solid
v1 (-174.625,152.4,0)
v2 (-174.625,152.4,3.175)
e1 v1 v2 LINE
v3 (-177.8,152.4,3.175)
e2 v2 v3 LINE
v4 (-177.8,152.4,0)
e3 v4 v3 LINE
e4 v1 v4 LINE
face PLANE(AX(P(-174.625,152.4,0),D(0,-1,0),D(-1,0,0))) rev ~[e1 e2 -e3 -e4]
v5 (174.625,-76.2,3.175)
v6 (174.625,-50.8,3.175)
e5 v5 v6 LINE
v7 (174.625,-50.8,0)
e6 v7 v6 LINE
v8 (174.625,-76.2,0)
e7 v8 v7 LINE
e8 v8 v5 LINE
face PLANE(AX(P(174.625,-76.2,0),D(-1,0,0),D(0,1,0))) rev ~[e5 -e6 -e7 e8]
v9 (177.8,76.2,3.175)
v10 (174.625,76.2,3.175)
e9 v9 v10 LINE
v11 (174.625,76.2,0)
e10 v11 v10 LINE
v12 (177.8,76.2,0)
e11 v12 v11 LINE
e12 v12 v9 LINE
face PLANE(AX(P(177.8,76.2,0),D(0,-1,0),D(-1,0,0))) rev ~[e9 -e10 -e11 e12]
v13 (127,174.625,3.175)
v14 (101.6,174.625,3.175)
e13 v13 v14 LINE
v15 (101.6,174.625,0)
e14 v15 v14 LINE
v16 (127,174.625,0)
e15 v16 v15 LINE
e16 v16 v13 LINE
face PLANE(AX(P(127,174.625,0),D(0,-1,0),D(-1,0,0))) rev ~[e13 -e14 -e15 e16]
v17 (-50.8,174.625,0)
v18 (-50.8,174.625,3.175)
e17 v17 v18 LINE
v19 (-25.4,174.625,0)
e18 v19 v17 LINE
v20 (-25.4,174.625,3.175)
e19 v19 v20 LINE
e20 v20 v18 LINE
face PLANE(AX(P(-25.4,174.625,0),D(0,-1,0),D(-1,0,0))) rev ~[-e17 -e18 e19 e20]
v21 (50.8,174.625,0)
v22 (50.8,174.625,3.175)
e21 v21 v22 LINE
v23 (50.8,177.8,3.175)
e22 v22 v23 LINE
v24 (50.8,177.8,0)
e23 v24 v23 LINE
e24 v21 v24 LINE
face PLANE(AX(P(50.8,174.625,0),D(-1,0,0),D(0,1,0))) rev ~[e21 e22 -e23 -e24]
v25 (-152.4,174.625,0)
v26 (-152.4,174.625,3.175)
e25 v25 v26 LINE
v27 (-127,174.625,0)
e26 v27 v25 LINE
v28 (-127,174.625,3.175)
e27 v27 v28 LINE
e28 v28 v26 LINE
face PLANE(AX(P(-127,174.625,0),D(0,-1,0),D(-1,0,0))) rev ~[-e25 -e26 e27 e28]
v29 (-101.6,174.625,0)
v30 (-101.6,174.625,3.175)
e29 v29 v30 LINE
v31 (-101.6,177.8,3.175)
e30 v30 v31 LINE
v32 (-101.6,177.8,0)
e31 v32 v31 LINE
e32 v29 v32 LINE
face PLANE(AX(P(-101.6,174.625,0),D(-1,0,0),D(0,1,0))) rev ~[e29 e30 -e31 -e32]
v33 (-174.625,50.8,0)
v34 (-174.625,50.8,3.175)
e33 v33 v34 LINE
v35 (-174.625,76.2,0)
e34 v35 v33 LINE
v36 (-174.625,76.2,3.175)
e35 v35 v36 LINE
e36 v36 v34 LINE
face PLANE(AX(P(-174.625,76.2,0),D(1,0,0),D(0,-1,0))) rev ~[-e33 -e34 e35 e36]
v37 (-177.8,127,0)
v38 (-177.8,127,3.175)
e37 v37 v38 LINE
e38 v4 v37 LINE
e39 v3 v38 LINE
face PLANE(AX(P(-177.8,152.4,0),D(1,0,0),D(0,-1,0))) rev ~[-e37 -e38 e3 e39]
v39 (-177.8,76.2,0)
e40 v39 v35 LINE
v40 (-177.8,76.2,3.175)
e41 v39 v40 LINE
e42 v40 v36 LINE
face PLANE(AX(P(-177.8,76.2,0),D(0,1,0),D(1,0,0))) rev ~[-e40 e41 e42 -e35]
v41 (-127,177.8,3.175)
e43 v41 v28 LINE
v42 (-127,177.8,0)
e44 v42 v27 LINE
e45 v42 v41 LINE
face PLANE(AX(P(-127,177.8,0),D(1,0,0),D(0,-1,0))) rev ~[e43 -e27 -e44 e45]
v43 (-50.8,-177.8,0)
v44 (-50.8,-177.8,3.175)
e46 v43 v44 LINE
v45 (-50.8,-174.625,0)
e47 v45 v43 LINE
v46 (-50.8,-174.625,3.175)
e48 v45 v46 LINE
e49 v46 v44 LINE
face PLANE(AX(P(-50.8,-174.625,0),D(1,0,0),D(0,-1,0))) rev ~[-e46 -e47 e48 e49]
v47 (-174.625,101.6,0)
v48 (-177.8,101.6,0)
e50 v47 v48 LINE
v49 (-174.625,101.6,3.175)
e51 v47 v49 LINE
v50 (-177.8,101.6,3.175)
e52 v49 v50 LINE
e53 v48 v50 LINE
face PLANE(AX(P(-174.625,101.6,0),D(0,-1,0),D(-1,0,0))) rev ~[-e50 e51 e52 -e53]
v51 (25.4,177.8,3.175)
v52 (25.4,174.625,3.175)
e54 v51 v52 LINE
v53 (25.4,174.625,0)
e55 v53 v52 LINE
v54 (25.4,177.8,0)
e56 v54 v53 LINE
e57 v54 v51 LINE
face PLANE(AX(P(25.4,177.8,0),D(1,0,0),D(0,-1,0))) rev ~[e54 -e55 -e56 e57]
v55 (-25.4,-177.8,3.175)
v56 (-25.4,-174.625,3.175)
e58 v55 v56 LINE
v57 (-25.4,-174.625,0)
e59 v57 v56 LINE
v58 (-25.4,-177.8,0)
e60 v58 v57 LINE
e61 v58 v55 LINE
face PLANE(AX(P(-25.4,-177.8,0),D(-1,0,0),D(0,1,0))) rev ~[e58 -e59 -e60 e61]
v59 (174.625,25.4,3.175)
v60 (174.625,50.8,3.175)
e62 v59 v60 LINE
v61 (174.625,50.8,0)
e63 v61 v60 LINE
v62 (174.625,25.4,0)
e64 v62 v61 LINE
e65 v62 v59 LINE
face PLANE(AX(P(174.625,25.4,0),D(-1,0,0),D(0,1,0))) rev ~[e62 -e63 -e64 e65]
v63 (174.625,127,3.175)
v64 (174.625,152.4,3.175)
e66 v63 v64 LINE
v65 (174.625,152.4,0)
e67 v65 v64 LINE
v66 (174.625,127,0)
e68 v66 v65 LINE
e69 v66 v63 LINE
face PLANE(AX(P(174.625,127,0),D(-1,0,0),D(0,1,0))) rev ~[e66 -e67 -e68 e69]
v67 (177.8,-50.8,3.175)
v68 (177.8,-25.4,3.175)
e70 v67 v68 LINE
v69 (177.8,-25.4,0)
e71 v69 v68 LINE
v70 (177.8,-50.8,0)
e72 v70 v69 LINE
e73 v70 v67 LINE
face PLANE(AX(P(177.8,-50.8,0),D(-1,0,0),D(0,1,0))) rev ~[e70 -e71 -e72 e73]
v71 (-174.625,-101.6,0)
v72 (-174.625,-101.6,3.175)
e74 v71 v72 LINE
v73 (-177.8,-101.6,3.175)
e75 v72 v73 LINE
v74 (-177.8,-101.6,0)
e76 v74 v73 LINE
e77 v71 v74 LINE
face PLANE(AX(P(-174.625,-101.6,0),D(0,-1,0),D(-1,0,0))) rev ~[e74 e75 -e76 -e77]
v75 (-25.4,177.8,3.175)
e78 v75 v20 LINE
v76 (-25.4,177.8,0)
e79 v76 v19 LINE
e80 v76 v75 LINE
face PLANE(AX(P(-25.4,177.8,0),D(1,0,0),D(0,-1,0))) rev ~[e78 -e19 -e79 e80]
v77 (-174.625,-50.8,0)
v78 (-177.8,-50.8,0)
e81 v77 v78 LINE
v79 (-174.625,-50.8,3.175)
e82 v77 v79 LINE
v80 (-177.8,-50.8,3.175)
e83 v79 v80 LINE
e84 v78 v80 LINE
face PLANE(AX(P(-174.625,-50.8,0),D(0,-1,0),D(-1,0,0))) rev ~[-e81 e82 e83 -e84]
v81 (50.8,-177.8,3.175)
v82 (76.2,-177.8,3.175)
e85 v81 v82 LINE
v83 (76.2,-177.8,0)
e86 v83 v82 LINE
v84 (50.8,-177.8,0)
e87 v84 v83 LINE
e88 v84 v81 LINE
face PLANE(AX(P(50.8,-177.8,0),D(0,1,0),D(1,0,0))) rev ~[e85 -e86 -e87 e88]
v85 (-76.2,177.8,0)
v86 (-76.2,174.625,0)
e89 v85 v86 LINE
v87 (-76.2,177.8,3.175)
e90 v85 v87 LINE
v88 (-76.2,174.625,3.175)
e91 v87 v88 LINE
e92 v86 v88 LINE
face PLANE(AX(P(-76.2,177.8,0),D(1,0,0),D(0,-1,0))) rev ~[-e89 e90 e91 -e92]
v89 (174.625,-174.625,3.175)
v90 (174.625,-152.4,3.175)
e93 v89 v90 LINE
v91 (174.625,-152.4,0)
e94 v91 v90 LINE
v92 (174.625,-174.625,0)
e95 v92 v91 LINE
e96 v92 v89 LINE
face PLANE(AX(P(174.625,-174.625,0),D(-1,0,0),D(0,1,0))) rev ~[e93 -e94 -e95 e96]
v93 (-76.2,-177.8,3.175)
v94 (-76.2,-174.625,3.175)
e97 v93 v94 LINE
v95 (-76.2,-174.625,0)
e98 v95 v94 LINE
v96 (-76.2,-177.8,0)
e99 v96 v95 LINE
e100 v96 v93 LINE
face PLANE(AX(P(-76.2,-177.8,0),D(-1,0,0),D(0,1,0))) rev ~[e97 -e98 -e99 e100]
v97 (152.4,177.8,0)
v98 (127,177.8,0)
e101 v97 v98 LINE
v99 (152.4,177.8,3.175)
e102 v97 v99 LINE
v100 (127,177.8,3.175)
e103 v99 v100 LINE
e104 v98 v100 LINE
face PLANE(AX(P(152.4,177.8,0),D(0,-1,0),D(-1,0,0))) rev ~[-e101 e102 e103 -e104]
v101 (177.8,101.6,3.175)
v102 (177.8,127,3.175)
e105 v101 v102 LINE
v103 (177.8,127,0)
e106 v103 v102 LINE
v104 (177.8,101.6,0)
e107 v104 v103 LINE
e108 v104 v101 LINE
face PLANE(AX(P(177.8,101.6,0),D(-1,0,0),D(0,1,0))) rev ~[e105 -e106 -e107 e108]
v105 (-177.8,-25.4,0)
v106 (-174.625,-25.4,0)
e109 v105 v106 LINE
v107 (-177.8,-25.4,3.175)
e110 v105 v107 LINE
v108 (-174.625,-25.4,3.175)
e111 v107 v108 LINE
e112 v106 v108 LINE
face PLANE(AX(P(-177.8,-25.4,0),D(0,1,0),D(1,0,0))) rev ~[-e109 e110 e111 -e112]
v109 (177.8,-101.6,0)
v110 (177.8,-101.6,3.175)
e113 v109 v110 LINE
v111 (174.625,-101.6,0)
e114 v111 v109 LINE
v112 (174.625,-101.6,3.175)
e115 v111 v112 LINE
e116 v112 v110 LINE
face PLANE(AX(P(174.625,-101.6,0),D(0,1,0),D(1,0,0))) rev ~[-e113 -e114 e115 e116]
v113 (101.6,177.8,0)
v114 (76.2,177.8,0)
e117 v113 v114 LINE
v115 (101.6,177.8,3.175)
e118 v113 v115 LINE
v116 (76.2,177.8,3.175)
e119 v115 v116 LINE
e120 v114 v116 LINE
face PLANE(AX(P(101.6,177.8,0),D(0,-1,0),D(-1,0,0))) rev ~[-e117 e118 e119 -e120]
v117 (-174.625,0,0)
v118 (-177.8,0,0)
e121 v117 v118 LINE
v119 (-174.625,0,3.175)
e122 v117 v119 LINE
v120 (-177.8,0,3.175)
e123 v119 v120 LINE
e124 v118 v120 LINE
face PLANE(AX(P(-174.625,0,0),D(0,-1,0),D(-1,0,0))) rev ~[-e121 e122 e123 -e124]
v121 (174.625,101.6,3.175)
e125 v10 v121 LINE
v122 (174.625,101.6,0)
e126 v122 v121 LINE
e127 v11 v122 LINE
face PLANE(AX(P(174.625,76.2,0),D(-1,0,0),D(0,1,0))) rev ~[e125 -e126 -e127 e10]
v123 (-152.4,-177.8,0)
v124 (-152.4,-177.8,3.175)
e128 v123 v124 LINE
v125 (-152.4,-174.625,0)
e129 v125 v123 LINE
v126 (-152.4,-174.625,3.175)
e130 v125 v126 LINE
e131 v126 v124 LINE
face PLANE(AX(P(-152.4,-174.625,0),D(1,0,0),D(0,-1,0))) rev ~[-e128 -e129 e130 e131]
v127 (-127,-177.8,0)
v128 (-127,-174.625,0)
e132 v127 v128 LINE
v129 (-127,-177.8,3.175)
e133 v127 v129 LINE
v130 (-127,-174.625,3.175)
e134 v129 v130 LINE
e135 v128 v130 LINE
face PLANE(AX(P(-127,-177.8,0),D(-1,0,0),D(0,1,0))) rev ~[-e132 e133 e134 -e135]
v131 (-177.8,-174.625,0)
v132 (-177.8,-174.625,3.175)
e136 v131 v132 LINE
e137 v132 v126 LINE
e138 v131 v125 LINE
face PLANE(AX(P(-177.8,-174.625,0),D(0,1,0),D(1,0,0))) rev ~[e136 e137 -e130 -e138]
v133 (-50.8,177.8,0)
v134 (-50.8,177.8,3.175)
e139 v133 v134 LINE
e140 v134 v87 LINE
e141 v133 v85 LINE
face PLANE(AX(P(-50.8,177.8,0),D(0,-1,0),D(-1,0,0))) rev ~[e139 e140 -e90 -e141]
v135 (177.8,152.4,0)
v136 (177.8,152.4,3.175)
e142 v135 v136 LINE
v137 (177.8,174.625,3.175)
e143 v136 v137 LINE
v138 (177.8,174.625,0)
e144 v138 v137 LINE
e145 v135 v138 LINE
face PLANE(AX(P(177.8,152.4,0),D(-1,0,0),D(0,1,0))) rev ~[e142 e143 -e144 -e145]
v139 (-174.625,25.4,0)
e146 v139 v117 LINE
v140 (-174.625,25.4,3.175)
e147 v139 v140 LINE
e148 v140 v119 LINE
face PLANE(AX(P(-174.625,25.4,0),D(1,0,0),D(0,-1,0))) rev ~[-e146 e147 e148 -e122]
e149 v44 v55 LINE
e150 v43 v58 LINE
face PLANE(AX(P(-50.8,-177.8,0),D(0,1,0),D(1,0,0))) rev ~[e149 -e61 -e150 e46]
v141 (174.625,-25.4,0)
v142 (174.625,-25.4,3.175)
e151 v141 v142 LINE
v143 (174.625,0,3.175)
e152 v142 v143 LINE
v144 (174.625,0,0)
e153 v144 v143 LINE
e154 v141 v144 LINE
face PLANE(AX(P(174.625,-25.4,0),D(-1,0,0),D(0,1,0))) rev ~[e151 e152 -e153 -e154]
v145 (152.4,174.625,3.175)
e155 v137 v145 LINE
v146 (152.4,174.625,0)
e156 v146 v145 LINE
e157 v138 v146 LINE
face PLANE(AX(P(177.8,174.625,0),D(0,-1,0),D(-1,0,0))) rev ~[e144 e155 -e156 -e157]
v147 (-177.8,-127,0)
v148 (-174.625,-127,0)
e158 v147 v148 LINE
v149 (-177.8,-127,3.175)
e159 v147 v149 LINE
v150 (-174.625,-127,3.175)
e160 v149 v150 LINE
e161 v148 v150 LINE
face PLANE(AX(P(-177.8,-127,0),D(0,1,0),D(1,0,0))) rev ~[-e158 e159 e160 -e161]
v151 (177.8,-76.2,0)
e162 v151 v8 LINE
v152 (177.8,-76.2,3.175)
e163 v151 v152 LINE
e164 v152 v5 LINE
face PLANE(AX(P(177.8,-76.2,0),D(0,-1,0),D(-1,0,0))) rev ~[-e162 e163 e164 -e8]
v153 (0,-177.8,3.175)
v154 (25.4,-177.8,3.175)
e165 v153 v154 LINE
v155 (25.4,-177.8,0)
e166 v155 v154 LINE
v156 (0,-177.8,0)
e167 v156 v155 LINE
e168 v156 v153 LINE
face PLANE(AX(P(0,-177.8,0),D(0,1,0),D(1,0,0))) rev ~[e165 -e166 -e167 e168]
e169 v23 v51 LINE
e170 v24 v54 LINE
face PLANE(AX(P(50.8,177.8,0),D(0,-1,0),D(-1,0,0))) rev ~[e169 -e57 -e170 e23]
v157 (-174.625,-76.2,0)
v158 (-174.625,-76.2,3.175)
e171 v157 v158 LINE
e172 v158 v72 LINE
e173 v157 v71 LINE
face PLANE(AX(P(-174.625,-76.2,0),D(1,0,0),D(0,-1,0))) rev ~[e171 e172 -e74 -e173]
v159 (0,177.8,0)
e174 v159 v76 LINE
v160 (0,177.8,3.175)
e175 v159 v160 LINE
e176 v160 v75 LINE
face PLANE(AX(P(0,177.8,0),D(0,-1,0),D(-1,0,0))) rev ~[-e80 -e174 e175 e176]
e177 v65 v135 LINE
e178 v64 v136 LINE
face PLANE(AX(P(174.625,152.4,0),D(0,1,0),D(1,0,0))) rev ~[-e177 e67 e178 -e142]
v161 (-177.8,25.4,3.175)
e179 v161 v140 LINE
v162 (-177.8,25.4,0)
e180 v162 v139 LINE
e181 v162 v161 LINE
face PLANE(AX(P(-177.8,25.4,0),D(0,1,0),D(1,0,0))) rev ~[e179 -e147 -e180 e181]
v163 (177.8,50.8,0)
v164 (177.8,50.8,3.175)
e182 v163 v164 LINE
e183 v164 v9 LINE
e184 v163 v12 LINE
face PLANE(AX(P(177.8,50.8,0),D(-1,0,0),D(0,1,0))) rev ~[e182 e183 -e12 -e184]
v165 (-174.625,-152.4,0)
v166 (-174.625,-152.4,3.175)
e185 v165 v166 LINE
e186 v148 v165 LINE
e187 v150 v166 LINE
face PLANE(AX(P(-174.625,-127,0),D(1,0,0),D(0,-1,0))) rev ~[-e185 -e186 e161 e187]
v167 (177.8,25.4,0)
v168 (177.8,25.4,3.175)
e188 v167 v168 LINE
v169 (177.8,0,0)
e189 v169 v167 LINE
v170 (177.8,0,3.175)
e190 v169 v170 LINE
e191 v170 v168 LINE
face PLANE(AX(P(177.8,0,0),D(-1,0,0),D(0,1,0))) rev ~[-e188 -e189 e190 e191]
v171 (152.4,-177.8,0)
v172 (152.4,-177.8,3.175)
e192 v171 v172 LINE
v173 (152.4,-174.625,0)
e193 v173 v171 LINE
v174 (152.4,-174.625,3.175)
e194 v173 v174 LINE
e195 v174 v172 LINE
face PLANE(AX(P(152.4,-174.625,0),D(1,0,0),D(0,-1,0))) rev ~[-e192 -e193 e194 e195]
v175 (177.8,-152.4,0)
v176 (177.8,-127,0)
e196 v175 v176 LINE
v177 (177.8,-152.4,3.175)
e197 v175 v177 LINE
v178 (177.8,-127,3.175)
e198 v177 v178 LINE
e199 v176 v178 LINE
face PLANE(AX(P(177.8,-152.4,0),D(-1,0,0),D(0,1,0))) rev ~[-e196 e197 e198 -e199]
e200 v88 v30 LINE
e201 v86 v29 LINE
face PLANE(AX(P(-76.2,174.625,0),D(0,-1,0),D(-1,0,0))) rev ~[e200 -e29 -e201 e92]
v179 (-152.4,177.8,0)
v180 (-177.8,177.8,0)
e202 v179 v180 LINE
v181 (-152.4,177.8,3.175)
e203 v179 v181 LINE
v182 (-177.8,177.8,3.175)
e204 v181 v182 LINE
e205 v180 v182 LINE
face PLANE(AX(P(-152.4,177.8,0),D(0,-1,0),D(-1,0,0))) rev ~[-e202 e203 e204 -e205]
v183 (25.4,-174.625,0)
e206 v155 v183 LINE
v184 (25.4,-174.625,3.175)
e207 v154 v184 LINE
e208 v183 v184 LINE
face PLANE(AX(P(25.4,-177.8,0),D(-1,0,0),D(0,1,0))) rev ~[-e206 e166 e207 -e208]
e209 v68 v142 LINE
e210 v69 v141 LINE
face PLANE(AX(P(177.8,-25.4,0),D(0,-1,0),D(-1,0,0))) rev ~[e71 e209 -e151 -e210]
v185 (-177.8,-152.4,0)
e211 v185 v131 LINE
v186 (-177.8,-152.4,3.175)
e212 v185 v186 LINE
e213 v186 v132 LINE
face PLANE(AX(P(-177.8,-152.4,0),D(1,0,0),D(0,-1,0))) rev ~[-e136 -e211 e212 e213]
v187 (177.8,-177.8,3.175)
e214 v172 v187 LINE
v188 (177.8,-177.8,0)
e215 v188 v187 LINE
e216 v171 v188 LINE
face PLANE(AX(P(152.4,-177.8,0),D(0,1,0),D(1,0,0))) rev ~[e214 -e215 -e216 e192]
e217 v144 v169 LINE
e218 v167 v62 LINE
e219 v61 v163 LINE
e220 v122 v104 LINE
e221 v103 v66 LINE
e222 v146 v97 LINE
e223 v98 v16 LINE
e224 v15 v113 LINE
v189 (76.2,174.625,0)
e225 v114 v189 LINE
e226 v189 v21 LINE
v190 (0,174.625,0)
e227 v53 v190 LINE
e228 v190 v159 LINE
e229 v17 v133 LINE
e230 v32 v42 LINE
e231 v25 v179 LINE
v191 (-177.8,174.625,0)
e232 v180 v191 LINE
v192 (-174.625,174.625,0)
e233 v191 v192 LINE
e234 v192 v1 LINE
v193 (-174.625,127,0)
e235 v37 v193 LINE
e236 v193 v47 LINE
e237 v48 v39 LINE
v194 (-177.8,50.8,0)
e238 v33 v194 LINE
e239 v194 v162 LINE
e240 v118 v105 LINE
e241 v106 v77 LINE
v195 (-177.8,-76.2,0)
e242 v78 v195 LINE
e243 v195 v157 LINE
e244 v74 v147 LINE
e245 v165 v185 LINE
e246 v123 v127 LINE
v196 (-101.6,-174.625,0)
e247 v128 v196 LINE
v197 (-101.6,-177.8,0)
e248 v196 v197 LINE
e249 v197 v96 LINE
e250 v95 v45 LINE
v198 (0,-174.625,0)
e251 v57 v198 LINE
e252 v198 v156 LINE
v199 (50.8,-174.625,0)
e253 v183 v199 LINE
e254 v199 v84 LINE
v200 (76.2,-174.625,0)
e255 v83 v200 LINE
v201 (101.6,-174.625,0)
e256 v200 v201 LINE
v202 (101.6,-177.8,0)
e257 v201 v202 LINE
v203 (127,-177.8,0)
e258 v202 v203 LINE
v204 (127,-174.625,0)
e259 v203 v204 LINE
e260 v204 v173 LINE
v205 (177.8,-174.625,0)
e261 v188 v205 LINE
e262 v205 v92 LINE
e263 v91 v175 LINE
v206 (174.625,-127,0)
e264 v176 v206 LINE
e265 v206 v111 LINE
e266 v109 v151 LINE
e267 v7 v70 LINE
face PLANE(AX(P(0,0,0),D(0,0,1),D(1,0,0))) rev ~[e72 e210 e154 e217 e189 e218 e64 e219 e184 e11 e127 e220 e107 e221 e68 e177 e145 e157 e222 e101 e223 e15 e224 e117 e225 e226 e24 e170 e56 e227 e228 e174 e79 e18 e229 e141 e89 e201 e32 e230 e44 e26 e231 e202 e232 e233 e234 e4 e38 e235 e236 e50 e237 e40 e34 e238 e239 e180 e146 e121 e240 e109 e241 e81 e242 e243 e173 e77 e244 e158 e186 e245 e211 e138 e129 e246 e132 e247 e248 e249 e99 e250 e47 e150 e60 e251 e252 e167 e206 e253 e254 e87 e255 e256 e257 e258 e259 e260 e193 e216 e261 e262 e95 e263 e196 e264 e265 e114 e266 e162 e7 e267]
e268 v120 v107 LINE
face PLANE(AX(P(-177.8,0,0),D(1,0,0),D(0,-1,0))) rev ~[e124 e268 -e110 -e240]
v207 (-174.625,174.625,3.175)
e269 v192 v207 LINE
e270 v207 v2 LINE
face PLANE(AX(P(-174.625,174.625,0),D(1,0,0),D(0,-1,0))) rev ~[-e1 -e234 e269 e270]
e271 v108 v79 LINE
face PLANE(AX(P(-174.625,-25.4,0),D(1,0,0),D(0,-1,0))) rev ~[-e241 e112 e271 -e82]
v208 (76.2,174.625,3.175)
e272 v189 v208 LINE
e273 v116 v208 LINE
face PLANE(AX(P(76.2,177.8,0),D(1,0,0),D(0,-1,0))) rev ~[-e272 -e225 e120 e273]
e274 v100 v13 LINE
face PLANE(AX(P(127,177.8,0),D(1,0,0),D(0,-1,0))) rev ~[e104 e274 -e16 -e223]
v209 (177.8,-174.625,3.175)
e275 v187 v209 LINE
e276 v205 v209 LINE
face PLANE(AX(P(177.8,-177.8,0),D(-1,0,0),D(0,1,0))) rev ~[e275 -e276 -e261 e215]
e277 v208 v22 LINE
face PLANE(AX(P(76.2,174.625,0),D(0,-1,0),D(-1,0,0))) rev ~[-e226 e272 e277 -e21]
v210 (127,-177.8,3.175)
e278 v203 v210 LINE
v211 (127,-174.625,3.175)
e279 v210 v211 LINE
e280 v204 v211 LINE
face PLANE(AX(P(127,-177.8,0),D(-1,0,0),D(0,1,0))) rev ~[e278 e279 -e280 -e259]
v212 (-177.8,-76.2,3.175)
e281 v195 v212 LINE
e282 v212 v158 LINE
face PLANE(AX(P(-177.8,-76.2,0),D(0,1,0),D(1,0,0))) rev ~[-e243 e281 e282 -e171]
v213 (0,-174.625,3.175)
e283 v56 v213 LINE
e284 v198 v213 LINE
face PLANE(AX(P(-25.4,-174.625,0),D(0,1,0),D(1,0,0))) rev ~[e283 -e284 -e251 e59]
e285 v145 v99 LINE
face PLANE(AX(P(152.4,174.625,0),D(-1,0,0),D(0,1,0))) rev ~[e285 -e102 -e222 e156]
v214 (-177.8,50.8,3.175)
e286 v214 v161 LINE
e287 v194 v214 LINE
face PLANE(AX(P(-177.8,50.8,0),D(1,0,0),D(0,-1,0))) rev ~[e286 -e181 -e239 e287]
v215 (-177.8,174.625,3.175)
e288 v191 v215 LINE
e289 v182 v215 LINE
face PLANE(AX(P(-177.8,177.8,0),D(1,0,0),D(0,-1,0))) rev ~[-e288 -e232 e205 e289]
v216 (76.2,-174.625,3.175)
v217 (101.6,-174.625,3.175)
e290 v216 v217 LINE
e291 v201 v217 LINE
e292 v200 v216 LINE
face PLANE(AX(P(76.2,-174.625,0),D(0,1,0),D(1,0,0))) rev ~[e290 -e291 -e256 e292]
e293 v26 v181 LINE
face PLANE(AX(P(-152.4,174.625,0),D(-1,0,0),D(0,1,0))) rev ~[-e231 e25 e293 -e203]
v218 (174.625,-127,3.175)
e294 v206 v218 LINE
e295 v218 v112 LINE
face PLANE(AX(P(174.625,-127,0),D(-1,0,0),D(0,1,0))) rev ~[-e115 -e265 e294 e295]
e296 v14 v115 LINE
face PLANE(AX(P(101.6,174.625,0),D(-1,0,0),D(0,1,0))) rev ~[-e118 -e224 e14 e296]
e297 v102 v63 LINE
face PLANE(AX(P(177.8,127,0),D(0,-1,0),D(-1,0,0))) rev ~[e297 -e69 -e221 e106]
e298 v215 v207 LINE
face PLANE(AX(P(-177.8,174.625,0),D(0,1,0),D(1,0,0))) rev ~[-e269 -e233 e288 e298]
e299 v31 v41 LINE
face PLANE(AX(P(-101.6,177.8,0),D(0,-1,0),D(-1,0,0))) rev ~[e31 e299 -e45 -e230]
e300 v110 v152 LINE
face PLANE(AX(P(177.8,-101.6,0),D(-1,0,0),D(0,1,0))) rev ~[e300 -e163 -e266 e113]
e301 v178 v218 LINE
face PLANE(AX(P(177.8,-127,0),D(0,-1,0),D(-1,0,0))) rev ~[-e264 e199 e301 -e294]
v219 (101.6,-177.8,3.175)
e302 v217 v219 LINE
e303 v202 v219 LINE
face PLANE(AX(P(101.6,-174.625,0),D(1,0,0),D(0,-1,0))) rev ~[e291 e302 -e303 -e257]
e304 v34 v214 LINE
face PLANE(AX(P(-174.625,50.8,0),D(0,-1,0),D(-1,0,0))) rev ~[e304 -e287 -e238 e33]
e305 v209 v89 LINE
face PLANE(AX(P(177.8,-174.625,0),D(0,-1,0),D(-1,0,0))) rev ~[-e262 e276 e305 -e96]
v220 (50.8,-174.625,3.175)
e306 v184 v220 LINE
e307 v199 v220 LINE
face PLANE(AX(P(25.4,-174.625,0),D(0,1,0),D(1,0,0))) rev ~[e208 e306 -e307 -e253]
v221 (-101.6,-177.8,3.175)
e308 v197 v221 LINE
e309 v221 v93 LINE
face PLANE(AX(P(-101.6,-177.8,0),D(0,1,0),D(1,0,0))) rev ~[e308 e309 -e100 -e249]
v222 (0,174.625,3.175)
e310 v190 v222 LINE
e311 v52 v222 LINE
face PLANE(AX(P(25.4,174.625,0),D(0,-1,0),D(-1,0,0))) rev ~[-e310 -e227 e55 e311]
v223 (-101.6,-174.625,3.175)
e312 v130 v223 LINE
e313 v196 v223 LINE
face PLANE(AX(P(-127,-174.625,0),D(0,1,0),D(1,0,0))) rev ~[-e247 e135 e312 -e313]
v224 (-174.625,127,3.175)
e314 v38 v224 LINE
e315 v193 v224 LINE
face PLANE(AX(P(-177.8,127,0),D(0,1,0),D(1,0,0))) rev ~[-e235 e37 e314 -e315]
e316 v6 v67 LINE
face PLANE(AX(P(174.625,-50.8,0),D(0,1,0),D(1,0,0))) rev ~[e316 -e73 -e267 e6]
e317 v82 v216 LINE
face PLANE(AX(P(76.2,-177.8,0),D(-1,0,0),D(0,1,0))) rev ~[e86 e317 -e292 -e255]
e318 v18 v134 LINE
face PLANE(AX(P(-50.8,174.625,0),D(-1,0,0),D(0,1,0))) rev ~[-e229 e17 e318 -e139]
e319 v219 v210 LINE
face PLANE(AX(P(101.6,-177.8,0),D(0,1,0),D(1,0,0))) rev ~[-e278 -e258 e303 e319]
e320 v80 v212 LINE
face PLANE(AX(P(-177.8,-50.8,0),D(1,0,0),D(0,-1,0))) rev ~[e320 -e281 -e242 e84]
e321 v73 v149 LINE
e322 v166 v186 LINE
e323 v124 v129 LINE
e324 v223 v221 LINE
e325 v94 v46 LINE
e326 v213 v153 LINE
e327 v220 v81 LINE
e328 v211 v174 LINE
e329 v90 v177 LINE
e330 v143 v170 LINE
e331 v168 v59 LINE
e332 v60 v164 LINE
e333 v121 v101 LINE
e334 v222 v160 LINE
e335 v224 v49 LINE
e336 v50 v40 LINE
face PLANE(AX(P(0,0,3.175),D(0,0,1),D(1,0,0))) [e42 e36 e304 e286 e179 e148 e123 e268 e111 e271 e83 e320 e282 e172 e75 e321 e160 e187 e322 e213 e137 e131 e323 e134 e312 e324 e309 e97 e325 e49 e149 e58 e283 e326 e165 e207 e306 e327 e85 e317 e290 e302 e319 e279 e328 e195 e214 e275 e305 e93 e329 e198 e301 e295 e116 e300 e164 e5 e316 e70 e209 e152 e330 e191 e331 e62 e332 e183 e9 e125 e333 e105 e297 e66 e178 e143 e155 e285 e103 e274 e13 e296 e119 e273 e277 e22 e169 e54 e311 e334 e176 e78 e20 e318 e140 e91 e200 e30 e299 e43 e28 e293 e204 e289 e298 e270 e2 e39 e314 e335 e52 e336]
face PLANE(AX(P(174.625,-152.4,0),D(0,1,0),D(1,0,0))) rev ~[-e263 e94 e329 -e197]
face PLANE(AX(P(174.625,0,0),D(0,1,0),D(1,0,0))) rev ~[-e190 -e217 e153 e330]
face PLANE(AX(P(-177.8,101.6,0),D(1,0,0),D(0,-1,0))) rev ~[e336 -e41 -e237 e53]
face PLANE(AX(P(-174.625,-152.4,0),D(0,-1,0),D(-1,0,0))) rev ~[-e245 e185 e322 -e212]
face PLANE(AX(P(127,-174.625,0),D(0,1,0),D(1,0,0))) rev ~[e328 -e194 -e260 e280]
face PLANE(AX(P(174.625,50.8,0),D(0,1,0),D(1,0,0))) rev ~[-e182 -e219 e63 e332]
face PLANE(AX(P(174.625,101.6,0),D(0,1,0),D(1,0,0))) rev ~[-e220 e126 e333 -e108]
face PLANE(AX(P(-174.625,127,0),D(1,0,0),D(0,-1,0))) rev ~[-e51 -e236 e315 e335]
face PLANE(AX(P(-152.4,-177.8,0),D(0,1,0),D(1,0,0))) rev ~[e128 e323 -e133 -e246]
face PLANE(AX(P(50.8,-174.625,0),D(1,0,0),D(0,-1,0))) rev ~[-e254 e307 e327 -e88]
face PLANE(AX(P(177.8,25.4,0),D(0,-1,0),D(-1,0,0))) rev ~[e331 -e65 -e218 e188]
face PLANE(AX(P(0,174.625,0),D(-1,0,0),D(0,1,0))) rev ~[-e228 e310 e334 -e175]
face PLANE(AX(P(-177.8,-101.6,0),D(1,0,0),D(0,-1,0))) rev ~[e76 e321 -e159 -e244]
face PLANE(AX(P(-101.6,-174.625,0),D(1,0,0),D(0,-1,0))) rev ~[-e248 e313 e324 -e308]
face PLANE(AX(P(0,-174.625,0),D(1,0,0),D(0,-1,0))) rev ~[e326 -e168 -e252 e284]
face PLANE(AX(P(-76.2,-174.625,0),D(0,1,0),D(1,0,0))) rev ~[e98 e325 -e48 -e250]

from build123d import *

# Parameters (mm, degrees)
F1_DEPTH = 3.175


with BuildPart() as f1:
    # F0 (on Top) → F1 (new body)
    with BuildSketch(Plane.XY):
        Polygon((-152.4, 177.8), (-177.8, 177.8), (-177.8, 174.625), (-174.625, 174.625), (-174.625, 152.4), (-177.8, 152.4), (-177.8, 127), (-174.625, 127), (-174.625, 101.6), (-177.8, 101.6), (-177.8, 76.2), (-174.625, 76.2), (-174.625, 50.8), (-177.8, 50.8), (-177.8, 25.4), (-174.625, 25.4), (-174.625, 0), (-177.8, 0), (-177.8, -25.4), (-174.625, -25.4), (-174.625, -50.8), (-177.8, -50.8), (-177.8, -76.2), (-174.625, -76.2), (-174.625, -101.6), (-177.8, -101.6), (-177.8, -127), (-174.625, -127), (-174.625, -152.4), (-177.8, -152.4), (-177.8, -174.625), (-174.625, -174.625), (-152.4, -174.625), (-152.4, -177.8), (-127, -177.8), (-127, -174.625), (-101.6, -174.625), (-101.6, -177.8), (-76.2, -177.8), (-76.2, -174.625), (-50.8, -174.625), (-50.8, -177.8), (-25.4, -177.8), (-25.4, -174.625), (0, -174.625), (0, -177.8), (25.4, -177.8), (25.4, -174.625), (50.8, -174.625), (50.8, -177.8), (76.2, -177.8), (76.2, -174.625), (101.6, -174.625), (101.6, -177.8), (127, -177.8), (127, -174.625), (152.4, -174.625), (152.4, -177.8), (177.8, -177.8), (177.8, -174.625), (174.625, -174.625), (174.625, -152.4), (177.8, -152.4), (177.8, -127), (174.625, -127), (174.625, -101.6), (177.8, -101.6), (177.8, -76.2), (174.625, -76.2), (174.625, -50.8), (177.8, -50.8), (177.8, -25.4), (174.625, -25.4), (174.625, 0), (177.8, 0), (177.8, 25.4), (174.625, 25.4), (174.625, 50.8), (177.8, 50.8), (177.8, 76.2), (174.625, 76.2), (174.625, 101.6), (177.8, 101.6), (177.8, 127), (174.625, 127), (174.625, 152.4), (177.8, 152.4), (177.8, 174.625), (174.625, 174.625), (152.4, 174.625), (152.4, 177.8), (127, 177.8), (127, 174.625), (101.6, 174.625), (101.6, 177.8), (76.2, 177.8), (76.2, 174.625), (50.8, 174.625), (50.8, 177.8), (25.4, 177.8), (25.4, 174.625), (0, 174.625), (0, 177.8), (-25.4, 177.8), (-25.4, 174.625), (-50.8, 174.625), (-50.8, 177.8), (-76.2, 177.8), (-76.2, 174.625), (-101.6, 174.625), (-101.6, 177.8), (-127, 177.8), (-127, 174.625), (-152.4, 174.625), align=None)
    extrude(amount=F1_DEPTH)


solid = f1.part
